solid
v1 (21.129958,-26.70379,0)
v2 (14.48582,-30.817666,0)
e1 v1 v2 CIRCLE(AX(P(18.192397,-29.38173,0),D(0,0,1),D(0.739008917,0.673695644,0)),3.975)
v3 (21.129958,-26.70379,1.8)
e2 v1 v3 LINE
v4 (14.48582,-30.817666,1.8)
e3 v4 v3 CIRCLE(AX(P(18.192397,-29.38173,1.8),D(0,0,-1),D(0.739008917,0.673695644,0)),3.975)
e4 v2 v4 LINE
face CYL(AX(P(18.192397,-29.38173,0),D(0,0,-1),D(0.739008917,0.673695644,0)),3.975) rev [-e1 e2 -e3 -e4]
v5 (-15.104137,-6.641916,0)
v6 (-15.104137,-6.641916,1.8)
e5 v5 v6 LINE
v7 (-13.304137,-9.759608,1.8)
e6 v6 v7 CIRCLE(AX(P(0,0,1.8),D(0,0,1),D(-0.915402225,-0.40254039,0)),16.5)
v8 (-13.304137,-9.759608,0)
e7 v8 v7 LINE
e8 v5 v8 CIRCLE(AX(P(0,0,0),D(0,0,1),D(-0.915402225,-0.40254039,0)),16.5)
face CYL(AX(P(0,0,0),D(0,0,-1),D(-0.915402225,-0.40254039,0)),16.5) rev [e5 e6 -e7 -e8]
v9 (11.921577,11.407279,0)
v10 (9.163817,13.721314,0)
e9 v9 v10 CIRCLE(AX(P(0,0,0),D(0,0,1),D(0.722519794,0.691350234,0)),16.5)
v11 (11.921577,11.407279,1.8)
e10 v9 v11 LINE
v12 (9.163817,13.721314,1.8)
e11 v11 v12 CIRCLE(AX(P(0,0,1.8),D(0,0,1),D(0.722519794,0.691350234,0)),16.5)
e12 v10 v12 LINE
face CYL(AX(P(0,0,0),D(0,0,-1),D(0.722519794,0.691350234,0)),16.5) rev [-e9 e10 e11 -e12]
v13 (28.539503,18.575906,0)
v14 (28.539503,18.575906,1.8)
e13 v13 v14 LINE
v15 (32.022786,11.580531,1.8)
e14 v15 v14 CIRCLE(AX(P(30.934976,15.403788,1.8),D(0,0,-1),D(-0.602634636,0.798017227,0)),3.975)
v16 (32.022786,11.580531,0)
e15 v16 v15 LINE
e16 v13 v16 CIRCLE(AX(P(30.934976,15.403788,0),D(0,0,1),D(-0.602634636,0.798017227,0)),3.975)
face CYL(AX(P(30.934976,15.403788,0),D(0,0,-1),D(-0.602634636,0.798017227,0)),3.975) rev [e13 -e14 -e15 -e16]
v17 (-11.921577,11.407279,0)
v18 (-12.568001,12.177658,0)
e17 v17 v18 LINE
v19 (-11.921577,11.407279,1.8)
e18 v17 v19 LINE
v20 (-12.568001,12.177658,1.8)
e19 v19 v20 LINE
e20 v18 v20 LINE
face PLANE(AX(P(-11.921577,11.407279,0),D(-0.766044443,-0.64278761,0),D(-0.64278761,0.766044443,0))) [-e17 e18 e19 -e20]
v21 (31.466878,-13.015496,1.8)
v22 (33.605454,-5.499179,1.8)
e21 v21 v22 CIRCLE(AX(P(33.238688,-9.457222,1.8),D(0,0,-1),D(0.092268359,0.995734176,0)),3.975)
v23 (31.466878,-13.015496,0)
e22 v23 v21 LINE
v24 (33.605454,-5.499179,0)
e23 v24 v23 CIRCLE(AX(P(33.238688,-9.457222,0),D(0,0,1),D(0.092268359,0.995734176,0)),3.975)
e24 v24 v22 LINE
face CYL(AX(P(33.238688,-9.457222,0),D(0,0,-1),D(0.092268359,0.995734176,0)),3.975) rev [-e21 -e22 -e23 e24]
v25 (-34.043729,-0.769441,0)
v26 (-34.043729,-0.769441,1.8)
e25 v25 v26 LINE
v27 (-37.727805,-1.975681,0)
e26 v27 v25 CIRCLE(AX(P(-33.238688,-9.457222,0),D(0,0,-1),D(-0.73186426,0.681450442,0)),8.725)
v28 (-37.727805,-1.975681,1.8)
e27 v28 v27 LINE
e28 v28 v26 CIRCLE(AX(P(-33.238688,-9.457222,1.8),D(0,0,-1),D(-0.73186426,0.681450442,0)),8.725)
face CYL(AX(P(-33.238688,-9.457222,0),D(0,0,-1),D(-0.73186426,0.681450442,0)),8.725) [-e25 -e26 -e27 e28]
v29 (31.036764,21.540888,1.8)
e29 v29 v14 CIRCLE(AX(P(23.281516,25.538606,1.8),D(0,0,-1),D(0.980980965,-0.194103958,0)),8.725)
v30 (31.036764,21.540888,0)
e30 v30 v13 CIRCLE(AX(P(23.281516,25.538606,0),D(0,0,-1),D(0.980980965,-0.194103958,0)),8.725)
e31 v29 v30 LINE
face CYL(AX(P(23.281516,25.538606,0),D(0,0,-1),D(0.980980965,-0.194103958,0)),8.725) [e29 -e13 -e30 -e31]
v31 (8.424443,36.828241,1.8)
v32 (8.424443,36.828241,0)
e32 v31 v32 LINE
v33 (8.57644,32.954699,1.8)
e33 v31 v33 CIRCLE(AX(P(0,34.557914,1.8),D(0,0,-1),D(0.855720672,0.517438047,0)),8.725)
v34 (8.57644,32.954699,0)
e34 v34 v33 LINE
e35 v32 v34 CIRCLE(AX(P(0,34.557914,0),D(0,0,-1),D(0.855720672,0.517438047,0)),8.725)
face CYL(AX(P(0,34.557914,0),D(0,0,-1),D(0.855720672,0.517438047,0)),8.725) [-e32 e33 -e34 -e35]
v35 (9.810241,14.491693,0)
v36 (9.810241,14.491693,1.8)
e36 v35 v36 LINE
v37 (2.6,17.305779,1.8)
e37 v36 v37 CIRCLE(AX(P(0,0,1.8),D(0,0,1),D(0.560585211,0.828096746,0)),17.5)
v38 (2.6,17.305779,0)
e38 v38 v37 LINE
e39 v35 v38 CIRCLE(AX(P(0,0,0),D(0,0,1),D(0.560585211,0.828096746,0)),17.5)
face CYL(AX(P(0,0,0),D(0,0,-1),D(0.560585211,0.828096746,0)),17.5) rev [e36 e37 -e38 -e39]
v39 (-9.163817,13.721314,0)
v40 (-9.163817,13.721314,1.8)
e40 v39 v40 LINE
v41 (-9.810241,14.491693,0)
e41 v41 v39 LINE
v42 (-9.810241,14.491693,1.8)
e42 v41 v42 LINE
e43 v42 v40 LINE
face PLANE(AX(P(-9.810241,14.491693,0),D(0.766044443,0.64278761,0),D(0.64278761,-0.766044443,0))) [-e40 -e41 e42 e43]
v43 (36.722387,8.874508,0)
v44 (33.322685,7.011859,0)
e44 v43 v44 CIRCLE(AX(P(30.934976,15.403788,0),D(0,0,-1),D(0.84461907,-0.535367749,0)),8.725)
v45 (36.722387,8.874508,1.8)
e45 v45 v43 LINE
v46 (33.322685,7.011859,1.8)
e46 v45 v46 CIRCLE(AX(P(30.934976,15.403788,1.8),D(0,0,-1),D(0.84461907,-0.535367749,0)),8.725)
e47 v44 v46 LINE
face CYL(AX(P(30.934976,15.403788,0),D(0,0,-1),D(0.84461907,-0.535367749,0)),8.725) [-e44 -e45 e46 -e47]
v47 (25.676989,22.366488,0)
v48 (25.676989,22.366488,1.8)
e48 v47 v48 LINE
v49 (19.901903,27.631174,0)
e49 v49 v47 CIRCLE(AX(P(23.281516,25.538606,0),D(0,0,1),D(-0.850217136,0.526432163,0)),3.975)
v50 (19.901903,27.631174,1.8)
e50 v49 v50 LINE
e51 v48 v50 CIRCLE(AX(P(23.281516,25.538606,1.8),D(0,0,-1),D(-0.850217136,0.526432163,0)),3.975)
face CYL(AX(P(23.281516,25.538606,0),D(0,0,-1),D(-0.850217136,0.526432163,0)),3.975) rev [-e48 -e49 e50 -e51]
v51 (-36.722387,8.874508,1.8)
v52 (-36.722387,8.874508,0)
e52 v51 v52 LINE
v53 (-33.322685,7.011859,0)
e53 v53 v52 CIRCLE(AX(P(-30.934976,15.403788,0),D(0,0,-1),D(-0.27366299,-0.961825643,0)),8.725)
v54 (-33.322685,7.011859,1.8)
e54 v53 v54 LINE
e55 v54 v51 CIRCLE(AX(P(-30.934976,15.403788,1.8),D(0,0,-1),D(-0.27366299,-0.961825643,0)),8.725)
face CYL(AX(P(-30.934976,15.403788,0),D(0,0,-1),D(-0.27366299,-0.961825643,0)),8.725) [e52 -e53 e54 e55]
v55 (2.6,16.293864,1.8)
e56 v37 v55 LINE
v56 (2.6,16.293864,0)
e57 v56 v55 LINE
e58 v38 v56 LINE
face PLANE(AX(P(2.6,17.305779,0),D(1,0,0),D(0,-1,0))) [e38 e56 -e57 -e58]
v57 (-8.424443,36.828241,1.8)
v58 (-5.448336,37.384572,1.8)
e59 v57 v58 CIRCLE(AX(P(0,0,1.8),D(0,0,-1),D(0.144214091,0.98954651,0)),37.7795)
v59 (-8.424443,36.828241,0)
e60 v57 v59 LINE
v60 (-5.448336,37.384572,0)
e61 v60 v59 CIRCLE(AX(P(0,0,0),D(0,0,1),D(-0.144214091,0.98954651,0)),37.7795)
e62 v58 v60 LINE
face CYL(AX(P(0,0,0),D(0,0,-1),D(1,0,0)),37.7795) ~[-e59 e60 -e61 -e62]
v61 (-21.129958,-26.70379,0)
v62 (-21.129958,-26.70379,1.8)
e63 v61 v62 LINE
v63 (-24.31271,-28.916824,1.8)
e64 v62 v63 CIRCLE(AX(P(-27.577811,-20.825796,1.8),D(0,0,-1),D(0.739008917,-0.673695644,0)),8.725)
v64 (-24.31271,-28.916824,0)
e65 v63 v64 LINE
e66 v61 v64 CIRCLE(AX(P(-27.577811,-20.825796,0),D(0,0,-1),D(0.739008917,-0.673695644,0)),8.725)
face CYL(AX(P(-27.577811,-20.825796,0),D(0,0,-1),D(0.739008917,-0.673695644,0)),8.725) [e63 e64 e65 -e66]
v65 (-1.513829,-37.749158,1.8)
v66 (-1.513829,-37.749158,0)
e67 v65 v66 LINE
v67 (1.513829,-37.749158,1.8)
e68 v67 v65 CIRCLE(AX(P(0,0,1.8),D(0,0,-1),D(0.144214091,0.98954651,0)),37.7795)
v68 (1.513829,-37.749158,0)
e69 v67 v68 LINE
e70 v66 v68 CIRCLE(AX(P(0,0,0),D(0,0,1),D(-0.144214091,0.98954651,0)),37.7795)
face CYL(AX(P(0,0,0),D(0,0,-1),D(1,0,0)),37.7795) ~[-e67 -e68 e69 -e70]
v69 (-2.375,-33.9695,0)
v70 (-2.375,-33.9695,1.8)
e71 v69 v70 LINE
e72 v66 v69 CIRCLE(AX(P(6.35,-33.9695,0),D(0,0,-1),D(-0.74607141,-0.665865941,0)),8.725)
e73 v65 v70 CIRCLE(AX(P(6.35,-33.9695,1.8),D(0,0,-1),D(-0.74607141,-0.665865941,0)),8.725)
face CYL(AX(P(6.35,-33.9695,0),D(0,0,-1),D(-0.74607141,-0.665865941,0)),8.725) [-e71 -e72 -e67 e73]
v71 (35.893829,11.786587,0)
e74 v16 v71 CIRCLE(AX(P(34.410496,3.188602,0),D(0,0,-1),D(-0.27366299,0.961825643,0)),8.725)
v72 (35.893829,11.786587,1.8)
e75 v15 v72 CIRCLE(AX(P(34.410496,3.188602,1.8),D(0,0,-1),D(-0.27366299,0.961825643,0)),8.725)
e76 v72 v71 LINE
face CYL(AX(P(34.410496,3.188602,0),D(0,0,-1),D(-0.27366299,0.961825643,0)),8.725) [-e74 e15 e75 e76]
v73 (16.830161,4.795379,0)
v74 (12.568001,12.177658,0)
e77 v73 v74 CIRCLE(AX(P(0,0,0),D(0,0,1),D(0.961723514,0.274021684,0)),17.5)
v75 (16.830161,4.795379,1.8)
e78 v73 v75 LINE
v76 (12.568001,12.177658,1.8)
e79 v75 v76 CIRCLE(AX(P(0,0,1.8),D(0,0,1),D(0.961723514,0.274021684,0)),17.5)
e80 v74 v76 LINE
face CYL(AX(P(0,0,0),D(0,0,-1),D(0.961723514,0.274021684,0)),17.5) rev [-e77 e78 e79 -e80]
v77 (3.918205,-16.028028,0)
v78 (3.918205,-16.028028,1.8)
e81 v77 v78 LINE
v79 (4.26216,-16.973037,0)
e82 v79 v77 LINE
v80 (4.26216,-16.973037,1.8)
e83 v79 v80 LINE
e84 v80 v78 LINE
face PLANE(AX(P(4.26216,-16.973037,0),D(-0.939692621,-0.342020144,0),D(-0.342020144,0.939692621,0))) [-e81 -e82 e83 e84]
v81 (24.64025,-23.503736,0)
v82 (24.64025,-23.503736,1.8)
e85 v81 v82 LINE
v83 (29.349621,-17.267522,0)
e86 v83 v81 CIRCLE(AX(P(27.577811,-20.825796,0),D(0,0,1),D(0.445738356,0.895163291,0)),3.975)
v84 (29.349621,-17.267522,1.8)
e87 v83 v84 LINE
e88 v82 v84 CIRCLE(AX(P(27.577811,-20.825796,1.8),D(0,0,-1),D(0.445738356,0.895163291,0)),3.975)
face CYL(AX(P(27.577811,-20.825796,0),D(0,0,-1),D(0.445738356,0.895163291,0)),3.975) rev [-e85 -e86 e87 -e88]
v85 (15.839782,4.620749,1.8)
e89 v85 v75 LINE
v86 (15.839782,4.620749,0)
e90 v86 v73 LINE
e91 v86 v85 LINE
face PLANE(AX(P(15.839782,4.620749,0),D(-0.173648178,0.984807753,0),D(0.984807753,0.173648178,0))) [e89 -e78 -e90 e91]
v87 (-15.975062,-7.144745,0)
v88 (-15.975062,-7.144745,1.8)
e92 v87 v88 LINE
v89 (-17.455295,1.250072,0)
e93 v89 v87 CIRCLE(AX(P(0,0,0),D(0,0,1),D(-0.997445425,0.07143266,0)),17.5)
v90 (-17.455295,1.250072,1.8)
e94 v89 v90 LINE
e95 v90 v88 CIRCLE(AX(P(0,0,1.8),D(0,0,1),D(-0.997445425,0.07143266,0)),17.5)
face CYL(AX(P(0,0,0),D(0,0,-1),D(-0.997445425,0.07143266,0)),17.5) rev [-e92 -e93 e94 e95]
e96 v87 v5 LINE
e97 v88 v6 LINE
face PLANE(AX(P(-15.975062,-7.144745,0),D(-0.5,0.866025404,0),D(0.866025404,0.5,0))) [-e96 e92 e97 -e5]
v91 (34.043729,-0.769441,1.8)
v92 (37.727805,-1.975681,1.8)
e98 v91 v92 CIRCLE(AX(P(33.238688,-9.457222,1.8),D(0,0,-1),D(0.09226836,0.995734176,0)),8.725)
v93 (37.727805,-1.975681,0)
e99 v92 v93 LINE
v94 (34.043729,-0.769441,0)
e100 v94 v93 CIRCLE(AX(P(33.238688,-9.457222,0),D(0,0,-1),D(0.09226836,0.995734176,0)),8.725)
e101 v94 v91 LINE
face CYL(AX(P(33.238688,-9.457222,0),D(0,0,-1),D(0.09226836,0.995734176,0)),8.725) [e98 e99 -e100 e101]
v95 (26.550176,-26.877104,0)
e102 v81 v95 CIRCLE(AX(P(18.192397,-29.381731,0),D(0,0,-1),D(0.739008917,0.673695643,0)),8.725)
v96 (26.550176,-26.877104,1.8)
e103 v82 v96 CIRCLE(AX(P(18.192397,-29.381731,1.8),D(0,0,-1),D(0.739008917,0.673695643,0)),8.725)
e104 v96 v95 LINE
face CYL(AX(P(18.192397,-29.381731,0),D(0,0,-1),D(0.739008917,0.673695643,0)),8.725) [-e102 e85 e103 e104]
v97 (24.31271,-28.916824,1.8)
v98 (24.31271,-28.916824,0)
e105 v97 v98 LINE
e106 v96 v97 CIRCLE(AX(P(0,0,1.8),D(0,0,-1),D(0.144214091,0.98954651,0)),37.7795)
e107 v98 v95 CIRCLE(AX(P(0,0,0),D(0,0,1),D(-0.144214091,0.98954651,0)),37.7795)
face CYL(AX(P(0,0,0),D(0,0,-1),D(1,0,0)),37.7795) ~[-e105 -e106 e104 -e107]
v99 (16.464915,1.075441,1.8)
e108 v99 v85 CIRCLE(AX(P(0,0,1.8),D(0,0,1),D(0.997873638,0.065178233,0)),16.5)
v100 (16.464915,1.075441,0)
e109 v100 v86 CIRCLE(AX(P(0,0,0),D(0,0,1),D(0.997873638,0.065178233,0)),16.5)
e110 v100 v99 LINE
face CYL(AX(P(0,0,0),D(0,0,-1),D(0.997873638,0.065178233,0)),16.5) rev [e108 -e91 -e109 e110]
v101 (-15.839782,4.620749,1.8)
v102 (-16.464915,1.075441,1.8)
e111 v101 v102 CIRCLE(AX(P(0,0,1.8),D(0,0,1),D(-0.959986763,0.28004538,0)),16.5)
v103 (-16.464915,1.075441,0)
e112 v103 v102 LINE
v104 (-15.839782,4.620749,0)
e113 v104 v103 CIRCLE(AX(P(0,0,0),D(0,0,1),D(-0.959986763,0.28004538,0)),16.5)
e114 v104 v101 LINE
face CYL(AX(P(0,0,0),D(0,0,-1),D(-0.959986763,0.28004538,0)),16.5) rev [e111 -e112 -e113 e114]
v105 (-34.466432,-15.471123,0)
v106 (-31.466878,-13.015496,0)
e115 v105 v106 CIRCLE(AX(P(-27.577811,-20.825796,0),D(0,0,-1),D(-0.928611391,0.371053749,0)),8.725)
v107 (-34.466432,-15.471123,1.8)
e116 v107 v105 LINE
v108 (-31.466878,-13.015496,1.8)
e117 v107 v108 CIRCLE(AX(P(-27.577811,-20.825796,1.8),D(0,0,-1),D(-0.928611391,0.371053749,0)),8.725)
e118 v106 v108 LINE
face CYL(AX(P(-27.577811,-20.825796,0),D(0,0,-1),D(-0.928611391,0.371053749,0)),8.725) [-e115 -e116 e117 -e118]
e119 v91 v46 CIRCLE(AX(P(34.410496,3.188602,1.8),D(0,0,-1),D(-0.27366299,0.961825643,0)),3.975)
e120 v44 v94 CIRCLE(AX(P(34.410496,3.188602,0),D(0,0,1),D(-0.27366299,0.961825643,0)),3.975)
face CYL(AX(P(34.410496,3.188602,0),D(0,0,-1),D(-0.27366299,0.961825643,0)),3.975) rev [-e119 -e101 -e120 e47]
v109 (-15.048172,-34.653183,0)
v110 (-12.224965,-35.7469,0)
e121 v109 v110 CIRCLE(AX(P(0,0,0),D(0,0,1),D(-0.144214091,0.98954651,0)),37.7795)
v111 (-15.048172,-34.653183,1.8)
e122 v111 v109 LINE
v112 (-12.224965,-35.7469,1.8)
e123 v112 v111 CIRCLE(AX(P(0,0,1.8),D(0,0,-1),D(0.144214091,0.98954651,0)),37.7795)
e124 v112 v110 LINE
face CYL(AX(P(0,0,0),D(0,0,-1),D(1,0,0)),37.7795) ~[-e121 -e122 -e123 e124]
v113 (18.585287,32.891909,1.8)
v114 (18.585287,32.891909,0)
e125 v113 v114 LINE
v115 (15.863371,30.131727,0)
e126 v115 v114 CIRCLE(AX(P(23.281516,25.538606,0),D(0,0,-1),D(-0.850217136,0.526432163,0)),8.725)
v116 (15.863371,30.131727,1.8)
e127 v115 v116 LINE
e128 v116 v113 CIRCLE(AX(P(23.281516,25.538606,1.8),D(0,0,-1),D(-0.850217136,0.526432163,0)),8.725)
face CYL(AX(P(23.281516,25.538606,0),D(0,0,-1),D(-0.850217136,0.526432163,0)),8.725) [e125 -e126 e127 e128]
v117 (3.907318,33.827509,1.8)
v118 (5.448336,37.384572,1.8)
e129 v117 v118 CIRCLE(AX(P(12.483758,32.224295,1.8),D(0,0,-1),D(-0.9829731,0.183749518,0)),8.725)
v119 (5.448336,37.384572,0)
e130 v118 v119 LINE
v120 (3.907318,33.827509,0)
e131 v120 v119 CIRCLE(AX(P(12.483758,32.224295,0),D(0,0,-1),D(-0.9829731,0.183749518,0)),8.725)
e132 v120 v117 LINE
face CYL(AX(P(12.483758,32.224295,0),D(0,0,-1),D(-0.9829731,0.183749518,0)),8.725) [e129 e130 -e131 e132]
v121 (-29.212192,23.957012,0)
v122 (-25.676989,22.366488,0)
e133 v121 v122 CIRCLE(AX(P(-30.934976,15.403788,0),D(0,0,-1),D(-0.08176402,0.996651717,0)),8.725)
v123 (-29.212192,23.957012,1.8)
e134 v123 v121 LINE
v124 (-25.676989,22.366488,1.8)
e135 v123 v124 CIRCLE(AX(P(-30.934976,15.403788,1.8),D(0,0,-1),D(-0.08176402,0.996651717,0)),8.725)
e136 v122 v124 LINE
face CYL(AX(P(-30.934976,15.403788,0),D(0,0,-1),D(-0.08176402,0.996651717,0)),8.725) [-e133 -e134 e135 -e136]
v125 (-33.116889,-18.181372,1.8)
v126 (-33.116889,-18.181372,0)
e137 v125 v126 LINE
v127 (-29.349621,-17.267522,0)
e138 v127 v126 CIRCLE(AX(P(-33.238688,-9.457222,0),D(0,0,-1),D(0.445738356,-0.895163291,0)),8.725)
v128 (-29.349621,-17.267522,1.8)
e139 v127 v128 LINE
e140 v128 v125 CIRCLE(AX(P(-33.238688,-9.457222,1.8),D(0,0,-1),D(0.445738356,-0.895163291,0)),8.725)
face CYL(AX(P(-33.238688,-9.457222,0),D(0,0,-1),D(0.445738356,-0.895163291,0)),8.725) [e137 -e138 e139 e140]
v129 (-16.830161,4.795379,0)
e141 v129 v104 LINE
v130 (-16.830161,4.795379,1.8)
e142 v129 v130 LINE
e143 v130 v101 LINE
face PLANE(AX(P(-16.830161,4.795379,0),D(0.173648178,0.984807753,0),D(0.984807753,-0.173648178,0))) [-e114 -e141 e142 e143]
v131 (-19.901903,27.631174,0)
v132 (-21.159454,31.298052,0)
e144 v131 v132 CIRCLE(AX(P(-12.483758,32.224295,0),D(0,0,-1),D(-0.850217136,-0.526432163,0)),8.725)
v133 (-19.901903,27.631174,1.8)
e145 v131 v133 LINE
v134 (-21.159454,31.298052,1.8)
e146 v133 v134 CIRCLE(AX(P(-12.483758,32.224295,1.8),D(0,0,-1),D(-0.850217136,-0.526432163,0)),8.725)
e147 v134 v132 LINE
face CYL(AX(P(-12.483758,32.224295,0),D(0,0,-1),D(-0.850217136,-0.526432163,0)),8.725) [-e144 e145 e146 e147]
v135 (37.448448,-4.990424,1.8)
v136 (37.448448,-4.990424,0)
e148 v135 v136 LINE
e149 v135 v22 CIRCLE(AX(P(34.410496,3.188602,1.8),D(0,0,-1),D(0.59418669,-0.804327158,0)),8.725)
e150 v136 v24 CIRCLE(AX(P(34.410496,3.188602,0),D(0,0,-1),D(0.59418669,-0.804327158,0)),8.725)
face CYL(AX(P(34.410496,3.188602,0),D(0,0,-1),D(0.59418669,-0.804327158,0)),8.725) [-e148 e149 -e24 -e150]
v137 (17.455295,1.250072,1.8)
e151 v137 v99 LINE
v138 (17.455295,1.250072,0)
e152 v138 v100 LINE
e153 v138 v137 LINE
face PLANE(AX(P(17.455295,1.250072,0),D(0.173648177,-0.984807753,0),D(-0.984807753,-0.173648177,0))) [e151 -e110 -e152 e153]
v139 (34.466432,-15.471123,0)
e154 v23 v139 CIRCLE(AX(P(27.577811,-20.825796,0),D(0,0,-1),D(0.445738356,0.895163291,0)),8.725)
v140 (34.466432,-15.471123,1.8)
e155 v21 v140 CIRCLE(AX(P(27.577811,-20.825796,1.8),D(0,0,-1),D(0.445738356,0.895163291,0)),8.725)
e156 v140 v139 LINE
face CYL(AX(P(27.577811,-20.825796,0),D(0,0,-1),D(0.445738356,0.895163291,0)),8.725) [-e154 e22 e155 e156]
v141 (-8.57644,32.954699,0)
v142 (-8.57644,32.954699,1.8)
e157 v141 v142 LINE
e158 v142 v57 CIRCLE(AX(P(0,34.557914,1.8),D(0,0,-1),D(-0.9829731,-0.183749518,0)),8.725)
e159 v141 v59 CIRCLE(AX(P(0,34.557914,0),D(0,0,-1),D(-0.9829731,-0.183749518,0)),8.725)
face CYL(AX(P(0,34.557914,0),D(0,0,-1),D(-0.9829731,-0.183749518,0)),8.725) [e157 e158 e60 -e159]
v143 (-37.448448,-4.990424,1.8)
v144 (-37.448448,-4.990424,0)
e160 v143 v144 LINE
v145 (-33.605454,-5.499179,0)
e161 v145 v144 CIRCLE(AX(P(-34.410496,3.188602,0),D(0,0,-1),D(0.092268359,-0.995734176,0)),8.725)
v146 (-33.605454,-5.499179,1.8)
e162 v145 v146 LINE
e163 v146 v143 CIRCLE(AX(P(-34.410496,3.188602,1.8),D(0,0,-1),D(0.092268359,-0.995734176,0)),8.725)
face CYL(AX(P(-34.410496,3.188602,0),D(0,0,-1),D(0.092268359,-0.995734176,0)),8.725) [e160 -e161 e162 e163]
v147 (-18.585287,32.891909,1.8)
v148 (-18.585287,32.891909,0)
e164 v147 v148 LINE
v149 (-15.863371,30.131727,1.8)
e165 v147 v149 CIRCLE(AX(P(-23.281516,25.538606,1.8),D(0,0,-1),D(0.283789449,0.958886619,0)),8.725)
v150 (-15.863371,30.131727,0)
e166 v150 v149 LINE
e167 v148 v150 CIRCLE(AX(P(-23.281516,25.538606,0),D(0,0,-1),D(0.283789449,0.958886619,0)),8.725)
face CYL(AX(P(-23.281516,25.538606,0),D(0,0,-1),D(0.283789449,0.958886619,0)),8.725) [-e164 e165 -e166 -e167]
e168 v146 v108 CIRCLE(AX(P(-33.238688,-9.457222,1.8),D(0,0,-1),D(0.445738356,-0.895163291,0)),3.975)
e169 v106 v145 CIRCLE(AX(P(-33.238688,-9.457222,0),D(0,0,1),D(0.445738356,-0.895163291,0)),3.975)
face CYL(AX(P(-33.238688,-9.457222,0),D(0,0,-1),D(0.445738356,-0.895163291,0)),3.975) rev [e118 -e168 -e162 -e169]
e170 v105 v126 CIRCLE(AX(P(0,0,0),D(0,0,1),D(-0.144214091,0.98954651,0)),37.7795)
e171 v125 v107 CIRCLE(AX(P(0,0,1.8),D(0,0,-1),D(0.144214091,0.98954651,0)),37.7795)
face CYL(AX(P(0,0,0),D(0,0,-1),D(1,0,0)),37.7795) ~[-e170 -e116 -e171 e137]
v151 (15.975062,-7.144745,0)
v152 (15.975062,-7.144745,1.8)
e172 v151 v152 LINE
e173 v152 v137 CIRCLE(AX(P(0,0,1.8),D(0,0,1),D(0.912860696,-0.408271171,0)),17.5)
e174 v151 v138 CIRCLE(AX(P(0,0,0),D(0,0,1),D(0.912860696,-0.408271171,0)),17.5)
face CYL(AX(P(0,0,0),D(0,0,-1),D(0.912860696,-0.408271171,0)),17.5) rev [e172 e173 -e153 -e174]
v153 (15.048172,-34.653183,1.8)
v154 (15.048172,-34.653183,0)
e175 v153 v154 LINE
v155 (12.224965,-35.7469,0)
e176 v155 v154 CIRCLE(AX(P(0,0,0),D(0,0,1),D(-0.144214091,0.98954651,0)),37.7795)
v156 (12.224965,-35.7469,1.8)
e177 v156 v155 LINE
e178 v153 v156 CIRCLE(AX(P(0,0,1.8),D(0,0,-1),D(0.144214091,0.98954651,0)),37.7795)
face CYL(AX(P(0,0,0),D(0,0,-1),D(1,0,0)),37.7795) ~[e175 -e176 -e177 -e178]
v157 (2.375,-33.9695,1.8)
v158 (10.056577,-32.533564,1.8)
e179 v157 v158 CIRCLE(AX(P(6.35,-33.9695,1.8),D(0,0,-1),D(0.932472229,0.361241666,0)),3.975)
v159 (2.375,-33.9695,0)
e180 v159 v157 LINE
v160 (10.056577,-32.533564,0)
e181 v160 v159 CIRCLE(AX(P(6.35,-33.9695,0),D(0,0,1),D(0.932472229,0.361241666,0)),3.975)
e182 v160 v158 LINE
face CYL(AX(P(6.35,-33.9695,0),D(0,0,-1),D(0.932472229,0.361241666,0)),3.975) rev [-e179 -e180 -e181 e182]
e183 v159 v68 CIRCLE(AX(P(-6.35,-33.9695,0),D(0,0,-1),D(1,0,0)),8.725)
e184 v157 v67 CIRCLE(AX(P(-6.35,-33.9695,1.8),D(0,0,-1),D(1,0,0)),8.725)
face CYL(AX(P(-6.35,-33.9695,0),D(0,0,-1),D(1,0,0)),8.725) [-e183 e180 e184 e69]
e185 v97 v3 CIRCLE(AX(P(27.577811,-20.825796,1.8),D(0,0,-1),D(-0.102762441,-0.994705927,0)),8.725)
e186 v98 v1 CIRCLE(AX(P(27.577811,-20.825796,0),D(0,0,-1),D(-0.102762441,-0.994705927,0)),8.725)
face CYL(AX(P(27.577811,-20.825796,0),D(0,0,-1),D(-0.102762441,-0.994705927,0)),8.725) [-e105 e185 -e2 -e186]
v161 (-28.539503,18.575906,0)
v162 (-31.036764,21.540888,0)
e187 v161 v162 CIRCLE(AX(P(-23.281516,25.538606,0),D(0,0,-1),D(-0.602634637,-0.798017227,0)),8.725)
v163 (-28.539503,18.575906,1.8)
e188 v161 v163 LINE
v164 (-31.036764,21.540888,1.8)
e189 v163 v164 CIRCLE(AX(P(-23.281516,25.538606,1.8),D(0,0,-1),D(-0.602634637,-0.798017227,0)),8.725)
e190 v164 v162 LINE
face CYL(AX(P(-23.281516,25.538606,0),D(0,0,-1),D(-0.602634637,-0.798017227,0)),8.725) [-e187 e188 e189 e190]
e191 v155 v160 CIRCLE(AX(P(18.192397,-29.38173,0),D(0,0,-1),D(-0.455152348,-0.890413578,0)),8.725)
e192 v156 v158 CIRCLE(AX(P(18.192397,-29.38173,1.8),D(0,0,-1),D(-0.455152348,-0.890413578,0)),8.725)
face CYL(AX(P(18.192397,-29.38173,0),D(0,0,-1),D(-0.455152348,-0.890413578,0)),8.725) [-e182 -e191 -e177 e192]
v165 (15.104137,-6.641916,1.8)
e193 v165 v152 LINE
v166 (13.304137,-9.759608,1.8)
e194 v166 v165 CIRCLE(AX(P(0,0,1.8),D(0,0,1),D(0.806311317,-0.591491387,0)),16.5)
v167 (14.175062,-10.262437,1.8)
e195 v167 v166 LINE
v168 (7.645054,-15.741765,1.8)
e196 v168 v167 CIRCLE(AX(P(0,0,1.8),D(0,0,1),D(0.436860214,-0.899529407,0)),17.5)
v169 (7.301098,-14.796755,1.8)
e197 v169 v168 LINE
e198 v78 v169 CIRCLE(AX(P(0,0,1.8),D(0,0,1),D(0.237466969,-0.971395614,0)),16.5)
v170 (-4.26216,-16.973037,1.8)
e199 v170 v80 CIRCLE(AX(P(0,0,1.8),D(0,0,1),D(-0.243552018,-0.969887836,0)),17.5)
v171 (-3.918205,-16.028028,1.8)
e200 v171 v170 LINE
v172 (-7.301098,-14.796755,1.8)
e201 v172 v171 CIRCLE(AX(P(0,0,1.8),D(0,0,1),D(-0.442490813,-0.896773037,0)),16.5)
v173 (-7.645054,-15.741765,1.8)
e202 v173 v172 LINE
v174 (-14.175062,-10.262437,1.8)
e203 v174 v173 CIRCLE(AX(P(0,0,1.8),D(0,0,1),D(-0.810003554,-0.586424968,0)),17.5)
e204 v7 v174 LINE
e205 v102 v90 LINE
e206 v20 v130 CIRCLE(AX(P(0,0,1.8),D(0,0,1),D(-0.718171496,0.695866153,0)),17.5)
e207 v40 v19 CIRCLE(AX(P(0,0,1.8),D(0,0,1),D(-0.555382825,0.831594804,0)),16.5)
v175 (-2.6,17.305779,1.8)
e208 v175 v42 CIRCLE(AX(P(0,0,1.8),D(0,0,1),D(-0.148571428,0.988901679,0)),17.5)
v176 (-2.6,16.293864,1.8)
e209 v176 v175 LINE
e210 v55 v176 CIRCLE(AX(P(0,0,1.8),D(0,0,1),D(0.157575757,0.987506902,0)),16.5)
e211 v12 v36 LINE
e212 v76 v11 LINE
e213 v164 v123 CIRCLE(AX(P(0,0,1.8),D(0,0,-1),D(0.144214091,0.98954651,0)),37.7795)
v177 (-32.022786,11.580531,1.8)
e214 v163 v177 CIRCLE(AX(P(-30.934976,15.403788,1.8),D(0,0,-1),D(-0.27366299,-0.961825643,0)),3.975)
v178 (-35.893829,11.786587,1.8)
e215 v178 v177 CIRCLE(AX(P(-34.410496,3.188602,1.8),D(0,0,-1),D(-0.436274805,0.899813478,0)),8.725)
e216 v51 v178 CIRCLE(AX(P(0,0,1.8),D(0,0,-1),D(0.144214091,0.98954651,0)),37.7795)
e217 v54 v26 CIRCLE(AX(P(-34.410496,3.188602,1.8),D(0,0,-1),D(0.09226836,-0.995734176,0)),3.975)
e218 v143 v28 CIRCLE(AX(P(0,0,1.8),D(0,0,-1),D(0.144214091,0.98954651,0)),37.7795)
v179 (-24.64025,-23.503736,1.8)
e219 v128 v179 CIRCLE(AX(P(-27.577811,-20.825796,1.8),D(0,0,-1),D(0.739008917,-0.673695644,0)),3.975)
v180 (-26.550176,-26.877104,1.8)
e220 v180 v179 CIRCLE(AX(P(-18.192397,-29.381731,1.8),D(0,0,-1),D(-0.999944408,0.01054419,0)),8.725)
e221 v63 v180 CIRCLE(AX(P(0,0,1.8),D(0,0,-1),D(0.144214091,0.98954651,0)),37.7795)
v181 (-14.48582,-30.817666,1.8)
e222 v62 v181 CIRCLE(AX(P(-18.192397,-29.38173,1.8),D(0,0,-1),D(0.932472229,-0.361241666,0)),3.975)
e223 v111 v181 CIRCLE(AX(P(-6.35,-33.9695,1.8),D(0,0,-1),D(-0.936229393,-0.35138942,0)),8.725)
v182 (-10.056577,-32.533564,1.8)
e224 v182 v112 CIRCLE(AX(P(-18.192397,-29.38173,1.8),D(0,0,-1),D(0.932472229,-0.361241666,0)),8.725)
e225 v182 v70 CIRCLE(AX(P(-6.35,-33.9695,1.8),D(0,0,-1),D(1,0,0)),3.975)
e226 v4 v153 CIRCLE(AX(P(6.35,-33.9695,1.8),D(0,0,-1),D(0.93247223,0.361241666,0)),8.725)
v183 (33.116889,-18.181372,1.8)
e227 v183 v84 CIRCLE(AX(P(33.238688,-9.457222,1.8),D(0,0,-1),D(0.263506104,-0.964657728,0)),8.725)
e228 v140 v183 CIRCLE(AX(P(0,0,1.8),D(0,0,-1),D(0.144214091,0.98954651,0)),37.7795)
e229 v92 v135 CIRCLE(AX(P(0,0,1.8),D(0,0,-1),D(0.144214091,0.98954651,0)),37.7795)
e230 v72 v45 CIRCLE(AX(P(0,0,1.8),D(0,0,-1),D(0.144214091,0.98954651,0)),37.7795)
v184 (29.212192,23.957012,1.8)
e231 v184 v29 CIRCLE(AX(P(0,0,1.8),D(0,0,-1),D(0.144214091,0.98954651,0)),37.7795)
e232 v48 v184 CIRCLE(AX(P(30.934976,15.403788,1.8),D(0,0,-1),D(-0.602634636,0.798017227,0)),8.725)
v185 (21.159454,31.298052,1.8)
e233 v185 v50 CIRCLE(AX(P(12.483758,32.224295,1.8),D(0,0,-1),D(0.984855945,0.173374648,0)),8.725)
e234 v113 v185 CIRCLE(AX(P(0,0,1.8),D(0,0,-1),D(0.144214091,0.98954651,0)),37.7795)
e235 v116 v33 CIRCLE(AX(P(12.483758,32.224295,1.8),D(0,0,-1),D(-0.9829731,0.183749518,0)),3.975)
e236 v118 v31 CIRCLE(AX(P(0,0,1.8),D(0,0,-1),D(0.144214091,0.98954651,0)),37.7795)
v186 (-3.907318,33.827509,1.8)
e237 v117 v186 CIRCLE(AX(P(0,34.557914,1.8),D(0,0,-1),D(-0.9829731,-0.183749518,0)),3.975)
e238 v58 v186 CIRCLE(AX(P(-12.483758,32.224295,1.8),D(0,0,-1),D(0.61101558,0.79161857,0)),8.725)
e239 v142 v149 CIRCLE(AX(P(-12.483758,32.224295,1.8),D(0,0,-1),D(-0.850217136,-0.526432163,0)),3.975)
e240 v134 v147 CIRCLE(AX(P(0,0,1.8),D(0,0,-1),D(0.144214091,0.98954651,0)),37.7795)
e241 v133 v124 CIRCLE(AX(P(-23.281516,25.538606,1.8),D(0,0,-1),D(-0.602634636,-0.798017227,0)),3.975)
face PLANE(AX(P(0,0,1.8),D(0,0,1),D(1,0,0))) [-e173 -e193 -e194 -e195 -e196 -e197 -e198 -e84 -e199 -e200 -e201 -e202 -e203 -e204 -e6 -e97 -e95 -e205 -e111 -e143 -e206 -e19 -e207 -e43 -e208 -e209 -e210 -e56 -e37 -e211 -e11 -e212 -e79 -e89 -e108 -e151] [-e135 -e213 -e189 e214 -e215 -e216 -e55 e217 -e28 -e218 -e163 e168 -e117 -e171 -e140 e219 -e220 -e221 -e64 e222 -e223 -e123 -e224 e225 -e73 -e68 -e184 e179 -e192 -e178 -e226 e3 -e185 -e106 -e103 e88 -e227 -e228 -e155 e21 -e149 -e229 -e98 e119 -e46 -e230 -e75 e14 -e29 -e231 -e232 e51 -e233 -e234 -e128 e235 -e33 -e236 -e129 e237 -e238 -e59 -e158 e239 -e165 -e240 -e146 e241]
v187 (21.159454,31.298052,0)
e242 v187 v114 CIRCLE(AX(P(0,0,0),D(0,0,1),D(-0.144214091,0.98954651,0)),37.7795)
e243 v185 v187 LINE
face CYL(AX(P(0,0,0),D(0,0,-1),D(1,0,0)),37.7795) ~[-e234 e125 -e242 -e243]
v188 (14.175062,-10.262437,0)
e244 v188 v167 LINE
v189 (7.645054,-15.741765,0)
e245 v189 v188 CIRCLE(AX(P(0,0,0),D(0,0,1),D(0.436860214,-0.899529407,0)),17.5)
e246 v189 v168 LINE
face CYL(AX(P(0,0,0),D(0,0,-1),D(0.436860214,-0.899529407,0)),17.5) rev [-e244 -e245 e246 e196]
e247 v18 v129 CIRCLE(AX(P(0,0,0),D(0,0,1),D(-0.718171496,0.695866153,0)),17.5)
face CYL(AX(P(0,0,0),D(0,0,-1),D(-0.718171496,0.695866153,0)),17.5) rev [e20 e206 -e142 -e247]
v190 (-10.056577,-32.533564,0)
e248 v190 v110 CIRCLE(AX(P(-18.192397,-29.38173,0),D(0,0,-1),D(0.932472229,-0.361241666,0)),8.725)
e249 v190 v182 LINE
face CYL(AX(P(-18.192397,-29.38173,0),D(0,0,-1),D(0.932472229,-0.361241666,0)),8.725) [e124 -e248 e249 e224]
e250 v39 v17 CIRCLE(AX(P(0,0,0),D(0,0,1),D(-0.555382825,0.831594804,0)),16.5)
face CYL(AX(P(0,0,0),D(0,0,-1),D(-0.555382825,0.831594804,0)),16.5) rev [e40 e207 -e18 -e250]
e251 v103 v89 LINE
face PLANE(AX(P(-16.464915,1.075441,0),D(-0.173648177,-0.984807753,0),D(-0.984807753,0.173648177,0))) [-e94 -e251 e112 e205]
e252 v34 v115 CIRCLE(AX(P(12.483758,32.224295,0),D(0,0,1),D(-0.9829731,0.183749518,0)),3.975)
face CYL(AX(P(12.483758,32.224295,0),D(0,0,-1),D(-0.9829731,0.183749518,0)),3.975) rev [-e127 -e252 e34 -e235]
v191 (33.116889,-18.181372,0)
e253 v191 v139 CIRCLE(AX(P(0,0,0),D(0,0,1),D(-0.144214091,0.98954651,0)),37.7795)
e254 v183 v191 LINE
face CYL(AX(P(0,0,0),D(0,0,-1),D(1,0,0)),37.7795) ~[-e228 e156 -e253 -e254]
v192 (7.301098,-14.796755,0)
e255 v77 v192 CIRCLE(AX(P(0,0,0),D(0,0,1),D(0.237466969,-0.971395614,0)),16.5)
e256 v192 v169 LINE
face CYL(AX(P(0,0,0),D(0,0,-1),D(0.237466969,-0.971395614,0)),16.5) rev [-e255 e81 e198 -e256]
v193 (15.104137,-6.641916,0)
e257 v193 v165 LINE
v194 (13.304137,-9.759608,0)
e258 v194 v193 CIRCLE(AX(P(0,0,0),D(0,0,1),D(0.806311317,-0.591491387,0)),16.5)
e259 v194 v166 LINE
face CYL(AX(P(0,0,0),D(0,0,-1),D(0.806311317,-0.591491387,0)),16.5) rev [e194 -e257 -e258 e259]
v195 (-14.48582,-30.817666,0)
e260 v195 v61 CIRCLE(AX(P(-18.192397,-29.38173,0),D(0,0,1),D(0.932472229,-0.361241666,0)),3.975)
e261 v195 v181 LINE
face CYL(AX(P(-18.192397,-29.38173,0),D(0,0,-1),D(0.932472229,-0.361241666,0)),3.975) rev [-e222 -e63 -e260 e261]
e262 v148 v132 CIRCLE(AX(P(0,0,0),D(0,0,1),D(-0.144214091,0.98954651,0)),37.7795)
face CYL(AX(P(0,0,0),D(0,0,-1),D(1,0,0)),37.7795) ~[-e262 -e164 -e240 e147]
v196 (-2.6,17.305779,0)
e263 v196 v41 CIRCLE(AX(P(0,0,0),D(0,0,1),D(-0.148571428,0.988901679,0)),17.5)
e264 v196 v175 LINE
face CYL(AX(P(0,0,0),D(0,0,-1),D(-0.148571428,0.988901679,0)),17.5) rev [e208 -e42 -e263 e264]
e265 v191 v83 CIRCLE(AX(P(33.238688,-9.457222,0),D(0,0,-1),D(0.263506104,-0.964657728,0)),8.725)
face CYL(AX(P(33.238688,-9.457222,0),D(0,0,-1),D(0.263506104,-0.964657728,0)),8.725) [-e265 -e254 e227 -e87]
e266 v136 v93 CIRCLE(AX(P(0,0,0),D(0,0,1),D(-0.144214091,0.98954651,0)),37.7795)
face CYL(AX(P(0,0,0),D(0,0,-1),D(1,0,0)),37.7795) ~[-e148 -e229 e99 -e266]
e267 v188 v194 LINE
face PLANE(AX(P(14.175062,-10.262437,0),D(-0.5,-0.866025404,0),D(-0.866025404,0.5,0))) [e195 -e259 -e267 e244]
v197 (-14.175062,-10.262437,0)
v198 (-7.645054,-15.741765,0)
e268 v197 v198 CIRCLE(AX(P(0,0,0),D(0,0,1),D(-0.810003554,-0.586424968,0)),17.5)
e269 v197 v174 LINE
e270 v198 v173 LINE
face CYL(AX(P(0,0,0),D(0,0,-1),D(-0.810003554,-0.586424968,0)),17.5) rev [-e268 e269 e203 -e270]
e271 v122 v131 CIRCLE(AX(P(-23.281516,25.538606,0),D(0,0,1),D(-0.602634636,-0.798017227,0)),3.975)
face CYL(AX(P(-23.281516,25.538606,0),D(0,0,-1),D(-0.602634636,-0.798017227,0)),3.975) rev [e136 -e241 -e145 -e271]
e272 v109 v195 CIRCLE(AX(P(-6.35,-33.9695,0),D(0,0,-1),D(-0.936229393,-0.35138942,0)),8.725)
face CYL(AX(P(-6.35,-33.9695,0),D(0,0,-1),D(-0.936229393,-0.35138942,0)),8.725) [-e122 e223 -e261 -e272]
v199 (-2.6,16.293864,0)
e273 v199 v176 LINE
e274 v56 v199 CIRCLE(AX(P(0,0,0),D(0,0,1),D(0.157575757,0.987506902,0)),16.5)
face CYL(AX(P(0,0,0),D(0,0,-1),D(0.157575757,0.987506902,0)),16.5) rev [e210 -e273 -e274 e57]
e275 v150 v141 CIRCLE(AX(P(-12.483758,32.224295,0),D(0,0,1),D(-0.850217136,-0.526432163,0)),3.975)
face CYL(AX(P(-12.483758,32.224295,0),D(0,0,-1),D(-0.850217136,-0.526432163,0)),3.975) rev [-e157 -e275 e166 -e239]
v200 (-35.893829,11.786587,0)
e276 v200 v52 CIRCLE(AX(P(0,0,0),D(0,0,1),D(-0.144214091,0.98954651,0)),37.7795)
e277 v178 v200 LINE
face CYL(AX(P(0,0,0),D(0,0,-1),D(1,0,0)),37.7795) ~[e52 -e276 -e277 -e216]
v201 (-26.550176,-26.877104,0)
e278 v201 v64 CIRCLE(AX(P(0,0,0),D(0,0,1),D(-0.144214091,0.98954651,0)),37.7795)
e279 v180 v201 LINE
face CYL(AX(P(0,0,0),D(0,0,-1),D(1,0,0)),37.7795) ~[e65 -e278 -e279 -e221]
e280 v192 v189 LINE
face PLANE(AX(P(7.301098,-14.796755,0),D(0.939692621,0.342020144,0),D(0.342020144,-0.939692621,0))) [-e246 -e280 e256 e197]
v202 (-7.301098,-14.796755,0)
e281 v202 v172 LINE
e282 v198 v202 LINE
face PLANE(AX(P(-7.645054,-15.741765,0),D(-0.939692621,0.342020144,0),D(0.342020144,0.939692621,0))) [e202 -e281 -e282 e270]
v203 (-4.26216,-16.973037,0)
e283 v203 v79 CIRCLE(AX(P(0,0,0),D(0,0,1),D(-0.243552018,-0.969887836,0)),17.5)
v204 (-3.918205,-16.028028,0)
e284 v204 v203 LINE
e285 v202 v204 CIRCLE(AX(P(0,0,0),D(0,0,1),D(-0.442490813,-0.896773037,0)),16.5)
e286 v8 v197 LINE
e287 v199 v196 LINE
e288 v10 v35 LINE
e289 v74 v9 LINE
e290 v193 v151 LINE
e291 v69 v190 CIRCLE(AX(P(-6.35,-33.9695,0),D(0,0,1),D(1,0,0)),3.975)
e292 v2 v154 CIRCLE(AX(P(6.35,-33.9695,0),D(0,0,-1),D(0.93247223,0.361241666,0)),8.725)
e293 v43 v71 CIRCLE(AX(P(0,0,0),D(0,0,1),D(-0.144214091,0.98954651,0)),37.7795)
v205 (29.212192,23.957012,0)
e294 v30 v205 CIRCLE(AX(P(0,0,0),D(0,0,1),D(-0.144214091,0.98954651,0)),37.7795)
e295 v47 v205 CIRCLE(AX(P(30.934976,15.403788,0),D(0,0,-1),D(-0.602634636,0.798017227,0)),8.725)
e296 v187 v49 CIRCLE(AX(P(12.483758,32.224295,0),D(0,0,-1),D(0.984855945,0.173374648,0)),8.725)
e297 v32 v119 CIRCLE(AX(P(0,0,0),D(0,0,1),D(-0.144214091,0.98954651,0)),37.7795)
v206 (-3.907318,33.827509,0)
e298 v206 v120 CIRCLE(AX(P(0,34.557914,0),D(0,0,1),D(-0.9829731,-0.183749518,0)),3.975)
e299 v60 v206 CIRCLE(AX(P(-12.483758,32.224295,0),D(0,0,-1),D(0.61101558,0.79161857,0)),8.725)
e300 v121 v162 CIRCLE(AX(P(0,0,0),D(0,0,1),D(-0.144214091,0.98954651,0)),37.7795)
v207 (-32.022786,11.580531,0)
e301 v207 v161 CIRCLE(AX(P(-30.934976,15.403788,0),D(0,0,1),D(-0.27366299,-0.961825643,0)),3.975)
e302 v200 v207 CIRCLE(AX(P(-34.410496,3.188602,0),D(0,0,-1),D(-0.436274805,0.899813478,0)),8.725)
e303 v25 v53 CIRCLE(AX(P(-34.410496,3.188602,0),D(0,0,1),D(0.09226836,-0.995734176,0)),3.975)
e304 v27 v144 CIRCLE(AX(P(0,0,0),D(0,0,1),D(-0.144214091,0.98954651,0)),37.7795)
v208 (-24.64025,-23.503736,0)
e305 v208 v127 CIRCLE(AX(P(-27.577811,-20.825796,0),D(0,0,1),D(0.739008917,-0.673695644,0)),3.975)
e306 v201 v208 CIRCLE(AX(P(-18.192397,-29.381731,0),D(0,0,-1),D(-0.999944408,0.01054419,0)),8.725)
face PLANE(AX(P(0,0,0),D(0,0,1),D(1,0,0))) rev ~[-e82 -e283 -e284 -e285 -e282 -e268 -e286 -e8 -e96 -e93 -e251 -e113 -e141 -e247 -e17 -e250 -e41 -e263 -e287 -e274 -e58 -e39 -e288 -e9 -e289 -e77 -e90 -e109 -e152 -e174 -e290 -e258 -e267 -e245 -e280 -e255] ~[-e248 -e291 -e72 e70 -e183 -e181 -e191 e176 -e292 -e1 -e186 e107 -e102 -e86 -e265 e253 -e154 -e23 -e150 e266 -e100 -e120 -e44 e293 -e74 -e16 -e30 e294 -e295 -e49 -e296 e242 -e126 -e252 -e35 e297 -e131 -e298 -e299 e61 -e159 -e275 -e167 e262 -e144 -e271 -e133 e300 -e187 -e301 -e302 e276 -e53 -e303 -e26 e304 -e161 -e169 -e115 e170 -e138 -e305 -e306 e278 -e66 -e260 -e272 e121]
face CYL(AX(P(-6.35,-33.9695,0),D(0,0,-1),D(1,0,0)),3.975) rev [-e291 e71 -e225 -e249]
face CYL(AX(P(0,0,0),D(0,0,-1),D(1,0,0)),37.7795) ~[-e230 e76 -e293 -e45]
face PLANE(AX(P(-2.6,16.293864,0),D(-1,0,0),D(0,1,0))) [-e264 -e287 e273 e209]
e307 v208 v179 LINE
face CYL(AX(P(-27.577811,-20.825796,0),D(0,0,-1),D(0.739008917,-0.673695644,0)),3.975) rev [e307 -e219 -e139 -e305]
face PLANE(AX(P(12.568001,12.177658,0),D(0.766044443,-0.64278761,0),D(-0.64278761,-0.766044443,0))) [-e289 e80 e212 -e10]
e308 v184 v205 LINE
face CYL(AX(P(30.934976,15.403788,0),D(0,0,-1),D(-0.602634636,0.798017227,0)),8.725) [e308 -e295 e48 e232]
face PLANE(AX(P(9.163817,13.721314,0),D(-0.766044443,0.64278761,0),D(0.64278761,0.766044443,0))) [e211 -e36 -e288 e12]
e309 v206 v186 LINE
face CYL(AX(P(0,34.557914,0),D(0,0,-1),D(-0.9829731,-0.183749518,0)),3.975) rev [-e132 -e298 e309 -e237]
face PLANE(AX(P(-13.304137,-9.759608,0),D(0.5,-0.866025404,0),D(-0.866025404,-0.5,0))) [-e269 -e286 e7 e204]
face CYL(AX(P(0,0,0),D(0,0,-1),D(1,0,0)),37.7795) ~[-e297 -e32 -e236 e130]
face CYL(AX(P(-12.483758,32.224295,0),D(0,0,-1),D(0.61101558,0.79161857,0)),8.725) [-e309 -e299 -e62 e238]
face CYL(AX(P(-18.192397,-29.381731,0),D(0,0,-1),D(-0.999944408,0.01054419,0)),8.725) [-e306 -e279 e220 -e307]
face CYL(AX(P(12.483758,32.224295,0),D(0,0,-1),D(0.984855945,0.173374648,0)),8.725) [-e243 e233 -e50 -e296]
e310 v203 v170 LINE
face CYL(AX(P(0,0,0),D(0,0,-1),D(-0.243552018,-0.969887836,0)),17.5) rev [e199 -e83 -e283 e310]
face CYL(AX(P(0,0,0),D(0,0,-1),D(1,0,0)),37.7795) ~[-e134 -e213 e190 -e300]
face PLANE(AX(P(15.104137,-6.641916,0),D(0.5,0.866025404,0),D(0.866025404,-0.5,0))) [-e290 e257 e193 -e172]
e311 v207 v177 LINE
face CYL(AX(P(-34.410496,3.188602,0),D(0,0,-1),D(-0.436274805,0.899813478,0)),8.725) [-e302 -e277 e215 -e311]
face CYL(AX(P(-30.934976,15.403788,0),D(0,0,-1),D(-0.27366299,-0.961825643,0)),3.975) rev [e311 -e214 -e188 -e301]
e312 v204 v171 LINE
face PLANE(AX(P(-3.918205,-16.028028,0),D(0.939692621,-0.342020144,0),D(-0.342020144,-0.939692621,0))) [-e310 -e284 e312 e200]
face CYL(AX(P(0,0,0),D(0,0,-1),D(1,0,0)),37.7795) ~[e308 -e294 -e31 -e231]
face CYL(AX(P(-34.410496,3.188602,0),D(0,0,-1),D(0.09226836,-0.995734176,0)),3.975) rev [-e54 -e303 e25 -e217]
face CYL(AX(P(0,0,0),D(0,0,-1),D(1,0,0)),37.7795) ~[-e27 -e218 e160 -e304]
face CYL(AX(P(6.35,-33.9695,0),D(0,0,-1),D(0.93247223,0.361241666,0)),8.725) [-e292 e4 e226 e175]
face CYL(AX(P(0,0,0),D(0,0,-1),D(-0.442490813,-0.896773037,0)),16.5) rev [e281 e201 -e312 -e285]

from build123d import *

# Parameters (mm, degrees)
SK_DISCO_R           = 37.77949966
DISCO_DEPTH          = 1.8
HUECO_DIENTE_DEPTH   = 54.458593221
MATRIZ_DIENTES_COUNT = 17


with BuildPart() as part:
    # Sk_Disco → Disco (new body)
    with BuildSketch(Plane.XY):
        Circle(SK_DISCO_R)
        with BuildLine():
            Line((2.6, 17.305779381), (2.6, 16.293863876))
            ThreePointArc((2.6, 16.293863876), (0, 16.5), (-2.6, 16.293863876))
            Line((-2.6, 16.293863876), (-2.6, 17.305779381))
            ThreePointArc((-2.6, 17.305779381), (-6.362648192, 16.302352836), (-9.810241185, 14.491693065))
            Line((-9.810241185, 14.491693065), (-9.163816615, 13.721314261))
            ThreePointArc((-9.163816615, 13.721314261), (-10.60599556, 12.639733311), (-11.92157661, 11.407278866))
            Line((-11.92157661, 11.407278866), (-12.56800118, 12.17765767))
            ThreePointArc((-12.56800118, 12.17765767), (-15.155444566, 8.75), (-16.830161491, 4.795379462))
            Line((-16.830161491, 4.795379462), (-15.839781591, 4.620748764))
            ThreePointArc((-15.839781591, 4.620748764), (-16.249327925, 2.865194932), (-16.464915031, 1.075440854))
            Line((-16.464915031, 1.075440854), (-17.455294931, 1.250071551))
            ThreePointArc((-17.455294931, 1.250071551), (-17.234135678, -3.038843109), (-15.975062189, -7.144745486))
            Line((-15.975062189, -7.144745486), (-15.104136721, -6.641916433))
            ThreePointArc((-15.104136721, -6.641916433), (-14.289419162, -8.25), (-13.304136721, -9.759607887))
            Line((-13.304136721, -9.759607887), (-14.175062189, -10.26243694))
            ThreePointArc((-14.175062189, -10.26243694), (-11.24878317, -13.405777755), (-7.645053746, -15.741764616))
            Line((-7.645053746, -15.741764616), (-7.301098416, -14.796755115))
            ThreePointArc((-7.301098416, -14.796755115), (-5.643332365, -15.504928243), (-3.918204981, -16.028027631))
            Line((-3.918204981, -16.028027631), (-4.262160311, -16.973037132))
            ThreePointArc((-4.262160311, -16.973037132), (0, -17.5), (4.262160311, -16.973037132))
            Line((4.262160311, -16.973037132), (3.918204981, -16.028027631))
            ThreePointArc((3.918204981, -16.028027631), (5.643332365, -15.504928243), (7.301098416, -14.796755115))
            Line((7.301098416, -14.796755115), (7.645053746, -15.741764616))
            ThreePointArc((7.645053746, -15.741764616), (11.24878317, -13.405777755), (14.175062189, -10.26243694))
            Line((14.175062189, -10.26243694), (13.304136721, -9.759607887))
            ThreePointArc((13.304136721, -9.759607887), (14.289419162, -8.25), (15.104136721, -6.641916433))
            Line((15.104136721, -6.641916433), (15.975062189, -7.144745486))
            ThreePointArc((15.975062189, -7.144745486), (17.234135678, -3.038843109), (17.455294931, 1.250071551))
            Line((17.455294931, 1.250071551), (16.464915031, 1.075440854))
            ThreePointArc((16.464915031, 1.075440854), (16.249327925, 2.865194932), (15.839781591, 4.620748764))
            Line((15.839781591, 4.620748764), (16.830161491, 4.795379462))
            ThreePointArc((16.830161491, 4.795379462), (15.155444566, 8.75), (12.56800118, 12.17765767))
            Line((12.56800118, 12.17765767), (11.92157661, 11.407278866))
            ThreePointArc((11.92157661, 11.407278866), (10.60599556, 12.639733311), (9.163816615, 13.721314261))
            Line((9.163816615, 13.721314261), (9.810241185, 14.491693065))
            ThreePointArc((9.810241185, 14.491693065), (6.362648192, 16.302352836), (2.6, 17.305779381))
        make_face(mode=Mode.SUBTRACT)
    extrude(amount=DISCO_DEPTH)

    # Sk_Hueco → Hueco_diente (cut, through all)
    with BuildSketch(Plane.XY):
        with BuildLine():
            ThreePointArc((-3.907318071, 33.82750948), (0, 30.582913814), (3.907318071, 33.82750948))
            ThreePointArc((3.907318071, 33.82750948), (5.04150125, 36.778242018), (7.15264743, 39.131166964))
            ThreePointArc((7.15264743, 39.131166964), (0, 39.77949966), (-7.15264743, 39.131166964))
            ThreePointArc((-7.15264743, 39.131166964), (-5.04150125, 36.778242018), (-3.907318071, 33.82750948))
        make_face()
    hueco_diente = extrude(amount=HUECO_DIENTE_DEPTH, mode=Mode.SUBTRACT)

    # Matriz_dientes: Hueco_diente ×17 about axis
    matriz_dientes_axis = Axis((0, 0, -0.09), (0, 0, 1))
    for i in range(1, MATRIZ_DIENTES_COUNT):
        add(hueco_diente.rotate(matriz_dientes_axis, i * 360 / MATRIZ_DIENTES_COUNT), mode=Mode.SUBTRACT)


solid = part.part
